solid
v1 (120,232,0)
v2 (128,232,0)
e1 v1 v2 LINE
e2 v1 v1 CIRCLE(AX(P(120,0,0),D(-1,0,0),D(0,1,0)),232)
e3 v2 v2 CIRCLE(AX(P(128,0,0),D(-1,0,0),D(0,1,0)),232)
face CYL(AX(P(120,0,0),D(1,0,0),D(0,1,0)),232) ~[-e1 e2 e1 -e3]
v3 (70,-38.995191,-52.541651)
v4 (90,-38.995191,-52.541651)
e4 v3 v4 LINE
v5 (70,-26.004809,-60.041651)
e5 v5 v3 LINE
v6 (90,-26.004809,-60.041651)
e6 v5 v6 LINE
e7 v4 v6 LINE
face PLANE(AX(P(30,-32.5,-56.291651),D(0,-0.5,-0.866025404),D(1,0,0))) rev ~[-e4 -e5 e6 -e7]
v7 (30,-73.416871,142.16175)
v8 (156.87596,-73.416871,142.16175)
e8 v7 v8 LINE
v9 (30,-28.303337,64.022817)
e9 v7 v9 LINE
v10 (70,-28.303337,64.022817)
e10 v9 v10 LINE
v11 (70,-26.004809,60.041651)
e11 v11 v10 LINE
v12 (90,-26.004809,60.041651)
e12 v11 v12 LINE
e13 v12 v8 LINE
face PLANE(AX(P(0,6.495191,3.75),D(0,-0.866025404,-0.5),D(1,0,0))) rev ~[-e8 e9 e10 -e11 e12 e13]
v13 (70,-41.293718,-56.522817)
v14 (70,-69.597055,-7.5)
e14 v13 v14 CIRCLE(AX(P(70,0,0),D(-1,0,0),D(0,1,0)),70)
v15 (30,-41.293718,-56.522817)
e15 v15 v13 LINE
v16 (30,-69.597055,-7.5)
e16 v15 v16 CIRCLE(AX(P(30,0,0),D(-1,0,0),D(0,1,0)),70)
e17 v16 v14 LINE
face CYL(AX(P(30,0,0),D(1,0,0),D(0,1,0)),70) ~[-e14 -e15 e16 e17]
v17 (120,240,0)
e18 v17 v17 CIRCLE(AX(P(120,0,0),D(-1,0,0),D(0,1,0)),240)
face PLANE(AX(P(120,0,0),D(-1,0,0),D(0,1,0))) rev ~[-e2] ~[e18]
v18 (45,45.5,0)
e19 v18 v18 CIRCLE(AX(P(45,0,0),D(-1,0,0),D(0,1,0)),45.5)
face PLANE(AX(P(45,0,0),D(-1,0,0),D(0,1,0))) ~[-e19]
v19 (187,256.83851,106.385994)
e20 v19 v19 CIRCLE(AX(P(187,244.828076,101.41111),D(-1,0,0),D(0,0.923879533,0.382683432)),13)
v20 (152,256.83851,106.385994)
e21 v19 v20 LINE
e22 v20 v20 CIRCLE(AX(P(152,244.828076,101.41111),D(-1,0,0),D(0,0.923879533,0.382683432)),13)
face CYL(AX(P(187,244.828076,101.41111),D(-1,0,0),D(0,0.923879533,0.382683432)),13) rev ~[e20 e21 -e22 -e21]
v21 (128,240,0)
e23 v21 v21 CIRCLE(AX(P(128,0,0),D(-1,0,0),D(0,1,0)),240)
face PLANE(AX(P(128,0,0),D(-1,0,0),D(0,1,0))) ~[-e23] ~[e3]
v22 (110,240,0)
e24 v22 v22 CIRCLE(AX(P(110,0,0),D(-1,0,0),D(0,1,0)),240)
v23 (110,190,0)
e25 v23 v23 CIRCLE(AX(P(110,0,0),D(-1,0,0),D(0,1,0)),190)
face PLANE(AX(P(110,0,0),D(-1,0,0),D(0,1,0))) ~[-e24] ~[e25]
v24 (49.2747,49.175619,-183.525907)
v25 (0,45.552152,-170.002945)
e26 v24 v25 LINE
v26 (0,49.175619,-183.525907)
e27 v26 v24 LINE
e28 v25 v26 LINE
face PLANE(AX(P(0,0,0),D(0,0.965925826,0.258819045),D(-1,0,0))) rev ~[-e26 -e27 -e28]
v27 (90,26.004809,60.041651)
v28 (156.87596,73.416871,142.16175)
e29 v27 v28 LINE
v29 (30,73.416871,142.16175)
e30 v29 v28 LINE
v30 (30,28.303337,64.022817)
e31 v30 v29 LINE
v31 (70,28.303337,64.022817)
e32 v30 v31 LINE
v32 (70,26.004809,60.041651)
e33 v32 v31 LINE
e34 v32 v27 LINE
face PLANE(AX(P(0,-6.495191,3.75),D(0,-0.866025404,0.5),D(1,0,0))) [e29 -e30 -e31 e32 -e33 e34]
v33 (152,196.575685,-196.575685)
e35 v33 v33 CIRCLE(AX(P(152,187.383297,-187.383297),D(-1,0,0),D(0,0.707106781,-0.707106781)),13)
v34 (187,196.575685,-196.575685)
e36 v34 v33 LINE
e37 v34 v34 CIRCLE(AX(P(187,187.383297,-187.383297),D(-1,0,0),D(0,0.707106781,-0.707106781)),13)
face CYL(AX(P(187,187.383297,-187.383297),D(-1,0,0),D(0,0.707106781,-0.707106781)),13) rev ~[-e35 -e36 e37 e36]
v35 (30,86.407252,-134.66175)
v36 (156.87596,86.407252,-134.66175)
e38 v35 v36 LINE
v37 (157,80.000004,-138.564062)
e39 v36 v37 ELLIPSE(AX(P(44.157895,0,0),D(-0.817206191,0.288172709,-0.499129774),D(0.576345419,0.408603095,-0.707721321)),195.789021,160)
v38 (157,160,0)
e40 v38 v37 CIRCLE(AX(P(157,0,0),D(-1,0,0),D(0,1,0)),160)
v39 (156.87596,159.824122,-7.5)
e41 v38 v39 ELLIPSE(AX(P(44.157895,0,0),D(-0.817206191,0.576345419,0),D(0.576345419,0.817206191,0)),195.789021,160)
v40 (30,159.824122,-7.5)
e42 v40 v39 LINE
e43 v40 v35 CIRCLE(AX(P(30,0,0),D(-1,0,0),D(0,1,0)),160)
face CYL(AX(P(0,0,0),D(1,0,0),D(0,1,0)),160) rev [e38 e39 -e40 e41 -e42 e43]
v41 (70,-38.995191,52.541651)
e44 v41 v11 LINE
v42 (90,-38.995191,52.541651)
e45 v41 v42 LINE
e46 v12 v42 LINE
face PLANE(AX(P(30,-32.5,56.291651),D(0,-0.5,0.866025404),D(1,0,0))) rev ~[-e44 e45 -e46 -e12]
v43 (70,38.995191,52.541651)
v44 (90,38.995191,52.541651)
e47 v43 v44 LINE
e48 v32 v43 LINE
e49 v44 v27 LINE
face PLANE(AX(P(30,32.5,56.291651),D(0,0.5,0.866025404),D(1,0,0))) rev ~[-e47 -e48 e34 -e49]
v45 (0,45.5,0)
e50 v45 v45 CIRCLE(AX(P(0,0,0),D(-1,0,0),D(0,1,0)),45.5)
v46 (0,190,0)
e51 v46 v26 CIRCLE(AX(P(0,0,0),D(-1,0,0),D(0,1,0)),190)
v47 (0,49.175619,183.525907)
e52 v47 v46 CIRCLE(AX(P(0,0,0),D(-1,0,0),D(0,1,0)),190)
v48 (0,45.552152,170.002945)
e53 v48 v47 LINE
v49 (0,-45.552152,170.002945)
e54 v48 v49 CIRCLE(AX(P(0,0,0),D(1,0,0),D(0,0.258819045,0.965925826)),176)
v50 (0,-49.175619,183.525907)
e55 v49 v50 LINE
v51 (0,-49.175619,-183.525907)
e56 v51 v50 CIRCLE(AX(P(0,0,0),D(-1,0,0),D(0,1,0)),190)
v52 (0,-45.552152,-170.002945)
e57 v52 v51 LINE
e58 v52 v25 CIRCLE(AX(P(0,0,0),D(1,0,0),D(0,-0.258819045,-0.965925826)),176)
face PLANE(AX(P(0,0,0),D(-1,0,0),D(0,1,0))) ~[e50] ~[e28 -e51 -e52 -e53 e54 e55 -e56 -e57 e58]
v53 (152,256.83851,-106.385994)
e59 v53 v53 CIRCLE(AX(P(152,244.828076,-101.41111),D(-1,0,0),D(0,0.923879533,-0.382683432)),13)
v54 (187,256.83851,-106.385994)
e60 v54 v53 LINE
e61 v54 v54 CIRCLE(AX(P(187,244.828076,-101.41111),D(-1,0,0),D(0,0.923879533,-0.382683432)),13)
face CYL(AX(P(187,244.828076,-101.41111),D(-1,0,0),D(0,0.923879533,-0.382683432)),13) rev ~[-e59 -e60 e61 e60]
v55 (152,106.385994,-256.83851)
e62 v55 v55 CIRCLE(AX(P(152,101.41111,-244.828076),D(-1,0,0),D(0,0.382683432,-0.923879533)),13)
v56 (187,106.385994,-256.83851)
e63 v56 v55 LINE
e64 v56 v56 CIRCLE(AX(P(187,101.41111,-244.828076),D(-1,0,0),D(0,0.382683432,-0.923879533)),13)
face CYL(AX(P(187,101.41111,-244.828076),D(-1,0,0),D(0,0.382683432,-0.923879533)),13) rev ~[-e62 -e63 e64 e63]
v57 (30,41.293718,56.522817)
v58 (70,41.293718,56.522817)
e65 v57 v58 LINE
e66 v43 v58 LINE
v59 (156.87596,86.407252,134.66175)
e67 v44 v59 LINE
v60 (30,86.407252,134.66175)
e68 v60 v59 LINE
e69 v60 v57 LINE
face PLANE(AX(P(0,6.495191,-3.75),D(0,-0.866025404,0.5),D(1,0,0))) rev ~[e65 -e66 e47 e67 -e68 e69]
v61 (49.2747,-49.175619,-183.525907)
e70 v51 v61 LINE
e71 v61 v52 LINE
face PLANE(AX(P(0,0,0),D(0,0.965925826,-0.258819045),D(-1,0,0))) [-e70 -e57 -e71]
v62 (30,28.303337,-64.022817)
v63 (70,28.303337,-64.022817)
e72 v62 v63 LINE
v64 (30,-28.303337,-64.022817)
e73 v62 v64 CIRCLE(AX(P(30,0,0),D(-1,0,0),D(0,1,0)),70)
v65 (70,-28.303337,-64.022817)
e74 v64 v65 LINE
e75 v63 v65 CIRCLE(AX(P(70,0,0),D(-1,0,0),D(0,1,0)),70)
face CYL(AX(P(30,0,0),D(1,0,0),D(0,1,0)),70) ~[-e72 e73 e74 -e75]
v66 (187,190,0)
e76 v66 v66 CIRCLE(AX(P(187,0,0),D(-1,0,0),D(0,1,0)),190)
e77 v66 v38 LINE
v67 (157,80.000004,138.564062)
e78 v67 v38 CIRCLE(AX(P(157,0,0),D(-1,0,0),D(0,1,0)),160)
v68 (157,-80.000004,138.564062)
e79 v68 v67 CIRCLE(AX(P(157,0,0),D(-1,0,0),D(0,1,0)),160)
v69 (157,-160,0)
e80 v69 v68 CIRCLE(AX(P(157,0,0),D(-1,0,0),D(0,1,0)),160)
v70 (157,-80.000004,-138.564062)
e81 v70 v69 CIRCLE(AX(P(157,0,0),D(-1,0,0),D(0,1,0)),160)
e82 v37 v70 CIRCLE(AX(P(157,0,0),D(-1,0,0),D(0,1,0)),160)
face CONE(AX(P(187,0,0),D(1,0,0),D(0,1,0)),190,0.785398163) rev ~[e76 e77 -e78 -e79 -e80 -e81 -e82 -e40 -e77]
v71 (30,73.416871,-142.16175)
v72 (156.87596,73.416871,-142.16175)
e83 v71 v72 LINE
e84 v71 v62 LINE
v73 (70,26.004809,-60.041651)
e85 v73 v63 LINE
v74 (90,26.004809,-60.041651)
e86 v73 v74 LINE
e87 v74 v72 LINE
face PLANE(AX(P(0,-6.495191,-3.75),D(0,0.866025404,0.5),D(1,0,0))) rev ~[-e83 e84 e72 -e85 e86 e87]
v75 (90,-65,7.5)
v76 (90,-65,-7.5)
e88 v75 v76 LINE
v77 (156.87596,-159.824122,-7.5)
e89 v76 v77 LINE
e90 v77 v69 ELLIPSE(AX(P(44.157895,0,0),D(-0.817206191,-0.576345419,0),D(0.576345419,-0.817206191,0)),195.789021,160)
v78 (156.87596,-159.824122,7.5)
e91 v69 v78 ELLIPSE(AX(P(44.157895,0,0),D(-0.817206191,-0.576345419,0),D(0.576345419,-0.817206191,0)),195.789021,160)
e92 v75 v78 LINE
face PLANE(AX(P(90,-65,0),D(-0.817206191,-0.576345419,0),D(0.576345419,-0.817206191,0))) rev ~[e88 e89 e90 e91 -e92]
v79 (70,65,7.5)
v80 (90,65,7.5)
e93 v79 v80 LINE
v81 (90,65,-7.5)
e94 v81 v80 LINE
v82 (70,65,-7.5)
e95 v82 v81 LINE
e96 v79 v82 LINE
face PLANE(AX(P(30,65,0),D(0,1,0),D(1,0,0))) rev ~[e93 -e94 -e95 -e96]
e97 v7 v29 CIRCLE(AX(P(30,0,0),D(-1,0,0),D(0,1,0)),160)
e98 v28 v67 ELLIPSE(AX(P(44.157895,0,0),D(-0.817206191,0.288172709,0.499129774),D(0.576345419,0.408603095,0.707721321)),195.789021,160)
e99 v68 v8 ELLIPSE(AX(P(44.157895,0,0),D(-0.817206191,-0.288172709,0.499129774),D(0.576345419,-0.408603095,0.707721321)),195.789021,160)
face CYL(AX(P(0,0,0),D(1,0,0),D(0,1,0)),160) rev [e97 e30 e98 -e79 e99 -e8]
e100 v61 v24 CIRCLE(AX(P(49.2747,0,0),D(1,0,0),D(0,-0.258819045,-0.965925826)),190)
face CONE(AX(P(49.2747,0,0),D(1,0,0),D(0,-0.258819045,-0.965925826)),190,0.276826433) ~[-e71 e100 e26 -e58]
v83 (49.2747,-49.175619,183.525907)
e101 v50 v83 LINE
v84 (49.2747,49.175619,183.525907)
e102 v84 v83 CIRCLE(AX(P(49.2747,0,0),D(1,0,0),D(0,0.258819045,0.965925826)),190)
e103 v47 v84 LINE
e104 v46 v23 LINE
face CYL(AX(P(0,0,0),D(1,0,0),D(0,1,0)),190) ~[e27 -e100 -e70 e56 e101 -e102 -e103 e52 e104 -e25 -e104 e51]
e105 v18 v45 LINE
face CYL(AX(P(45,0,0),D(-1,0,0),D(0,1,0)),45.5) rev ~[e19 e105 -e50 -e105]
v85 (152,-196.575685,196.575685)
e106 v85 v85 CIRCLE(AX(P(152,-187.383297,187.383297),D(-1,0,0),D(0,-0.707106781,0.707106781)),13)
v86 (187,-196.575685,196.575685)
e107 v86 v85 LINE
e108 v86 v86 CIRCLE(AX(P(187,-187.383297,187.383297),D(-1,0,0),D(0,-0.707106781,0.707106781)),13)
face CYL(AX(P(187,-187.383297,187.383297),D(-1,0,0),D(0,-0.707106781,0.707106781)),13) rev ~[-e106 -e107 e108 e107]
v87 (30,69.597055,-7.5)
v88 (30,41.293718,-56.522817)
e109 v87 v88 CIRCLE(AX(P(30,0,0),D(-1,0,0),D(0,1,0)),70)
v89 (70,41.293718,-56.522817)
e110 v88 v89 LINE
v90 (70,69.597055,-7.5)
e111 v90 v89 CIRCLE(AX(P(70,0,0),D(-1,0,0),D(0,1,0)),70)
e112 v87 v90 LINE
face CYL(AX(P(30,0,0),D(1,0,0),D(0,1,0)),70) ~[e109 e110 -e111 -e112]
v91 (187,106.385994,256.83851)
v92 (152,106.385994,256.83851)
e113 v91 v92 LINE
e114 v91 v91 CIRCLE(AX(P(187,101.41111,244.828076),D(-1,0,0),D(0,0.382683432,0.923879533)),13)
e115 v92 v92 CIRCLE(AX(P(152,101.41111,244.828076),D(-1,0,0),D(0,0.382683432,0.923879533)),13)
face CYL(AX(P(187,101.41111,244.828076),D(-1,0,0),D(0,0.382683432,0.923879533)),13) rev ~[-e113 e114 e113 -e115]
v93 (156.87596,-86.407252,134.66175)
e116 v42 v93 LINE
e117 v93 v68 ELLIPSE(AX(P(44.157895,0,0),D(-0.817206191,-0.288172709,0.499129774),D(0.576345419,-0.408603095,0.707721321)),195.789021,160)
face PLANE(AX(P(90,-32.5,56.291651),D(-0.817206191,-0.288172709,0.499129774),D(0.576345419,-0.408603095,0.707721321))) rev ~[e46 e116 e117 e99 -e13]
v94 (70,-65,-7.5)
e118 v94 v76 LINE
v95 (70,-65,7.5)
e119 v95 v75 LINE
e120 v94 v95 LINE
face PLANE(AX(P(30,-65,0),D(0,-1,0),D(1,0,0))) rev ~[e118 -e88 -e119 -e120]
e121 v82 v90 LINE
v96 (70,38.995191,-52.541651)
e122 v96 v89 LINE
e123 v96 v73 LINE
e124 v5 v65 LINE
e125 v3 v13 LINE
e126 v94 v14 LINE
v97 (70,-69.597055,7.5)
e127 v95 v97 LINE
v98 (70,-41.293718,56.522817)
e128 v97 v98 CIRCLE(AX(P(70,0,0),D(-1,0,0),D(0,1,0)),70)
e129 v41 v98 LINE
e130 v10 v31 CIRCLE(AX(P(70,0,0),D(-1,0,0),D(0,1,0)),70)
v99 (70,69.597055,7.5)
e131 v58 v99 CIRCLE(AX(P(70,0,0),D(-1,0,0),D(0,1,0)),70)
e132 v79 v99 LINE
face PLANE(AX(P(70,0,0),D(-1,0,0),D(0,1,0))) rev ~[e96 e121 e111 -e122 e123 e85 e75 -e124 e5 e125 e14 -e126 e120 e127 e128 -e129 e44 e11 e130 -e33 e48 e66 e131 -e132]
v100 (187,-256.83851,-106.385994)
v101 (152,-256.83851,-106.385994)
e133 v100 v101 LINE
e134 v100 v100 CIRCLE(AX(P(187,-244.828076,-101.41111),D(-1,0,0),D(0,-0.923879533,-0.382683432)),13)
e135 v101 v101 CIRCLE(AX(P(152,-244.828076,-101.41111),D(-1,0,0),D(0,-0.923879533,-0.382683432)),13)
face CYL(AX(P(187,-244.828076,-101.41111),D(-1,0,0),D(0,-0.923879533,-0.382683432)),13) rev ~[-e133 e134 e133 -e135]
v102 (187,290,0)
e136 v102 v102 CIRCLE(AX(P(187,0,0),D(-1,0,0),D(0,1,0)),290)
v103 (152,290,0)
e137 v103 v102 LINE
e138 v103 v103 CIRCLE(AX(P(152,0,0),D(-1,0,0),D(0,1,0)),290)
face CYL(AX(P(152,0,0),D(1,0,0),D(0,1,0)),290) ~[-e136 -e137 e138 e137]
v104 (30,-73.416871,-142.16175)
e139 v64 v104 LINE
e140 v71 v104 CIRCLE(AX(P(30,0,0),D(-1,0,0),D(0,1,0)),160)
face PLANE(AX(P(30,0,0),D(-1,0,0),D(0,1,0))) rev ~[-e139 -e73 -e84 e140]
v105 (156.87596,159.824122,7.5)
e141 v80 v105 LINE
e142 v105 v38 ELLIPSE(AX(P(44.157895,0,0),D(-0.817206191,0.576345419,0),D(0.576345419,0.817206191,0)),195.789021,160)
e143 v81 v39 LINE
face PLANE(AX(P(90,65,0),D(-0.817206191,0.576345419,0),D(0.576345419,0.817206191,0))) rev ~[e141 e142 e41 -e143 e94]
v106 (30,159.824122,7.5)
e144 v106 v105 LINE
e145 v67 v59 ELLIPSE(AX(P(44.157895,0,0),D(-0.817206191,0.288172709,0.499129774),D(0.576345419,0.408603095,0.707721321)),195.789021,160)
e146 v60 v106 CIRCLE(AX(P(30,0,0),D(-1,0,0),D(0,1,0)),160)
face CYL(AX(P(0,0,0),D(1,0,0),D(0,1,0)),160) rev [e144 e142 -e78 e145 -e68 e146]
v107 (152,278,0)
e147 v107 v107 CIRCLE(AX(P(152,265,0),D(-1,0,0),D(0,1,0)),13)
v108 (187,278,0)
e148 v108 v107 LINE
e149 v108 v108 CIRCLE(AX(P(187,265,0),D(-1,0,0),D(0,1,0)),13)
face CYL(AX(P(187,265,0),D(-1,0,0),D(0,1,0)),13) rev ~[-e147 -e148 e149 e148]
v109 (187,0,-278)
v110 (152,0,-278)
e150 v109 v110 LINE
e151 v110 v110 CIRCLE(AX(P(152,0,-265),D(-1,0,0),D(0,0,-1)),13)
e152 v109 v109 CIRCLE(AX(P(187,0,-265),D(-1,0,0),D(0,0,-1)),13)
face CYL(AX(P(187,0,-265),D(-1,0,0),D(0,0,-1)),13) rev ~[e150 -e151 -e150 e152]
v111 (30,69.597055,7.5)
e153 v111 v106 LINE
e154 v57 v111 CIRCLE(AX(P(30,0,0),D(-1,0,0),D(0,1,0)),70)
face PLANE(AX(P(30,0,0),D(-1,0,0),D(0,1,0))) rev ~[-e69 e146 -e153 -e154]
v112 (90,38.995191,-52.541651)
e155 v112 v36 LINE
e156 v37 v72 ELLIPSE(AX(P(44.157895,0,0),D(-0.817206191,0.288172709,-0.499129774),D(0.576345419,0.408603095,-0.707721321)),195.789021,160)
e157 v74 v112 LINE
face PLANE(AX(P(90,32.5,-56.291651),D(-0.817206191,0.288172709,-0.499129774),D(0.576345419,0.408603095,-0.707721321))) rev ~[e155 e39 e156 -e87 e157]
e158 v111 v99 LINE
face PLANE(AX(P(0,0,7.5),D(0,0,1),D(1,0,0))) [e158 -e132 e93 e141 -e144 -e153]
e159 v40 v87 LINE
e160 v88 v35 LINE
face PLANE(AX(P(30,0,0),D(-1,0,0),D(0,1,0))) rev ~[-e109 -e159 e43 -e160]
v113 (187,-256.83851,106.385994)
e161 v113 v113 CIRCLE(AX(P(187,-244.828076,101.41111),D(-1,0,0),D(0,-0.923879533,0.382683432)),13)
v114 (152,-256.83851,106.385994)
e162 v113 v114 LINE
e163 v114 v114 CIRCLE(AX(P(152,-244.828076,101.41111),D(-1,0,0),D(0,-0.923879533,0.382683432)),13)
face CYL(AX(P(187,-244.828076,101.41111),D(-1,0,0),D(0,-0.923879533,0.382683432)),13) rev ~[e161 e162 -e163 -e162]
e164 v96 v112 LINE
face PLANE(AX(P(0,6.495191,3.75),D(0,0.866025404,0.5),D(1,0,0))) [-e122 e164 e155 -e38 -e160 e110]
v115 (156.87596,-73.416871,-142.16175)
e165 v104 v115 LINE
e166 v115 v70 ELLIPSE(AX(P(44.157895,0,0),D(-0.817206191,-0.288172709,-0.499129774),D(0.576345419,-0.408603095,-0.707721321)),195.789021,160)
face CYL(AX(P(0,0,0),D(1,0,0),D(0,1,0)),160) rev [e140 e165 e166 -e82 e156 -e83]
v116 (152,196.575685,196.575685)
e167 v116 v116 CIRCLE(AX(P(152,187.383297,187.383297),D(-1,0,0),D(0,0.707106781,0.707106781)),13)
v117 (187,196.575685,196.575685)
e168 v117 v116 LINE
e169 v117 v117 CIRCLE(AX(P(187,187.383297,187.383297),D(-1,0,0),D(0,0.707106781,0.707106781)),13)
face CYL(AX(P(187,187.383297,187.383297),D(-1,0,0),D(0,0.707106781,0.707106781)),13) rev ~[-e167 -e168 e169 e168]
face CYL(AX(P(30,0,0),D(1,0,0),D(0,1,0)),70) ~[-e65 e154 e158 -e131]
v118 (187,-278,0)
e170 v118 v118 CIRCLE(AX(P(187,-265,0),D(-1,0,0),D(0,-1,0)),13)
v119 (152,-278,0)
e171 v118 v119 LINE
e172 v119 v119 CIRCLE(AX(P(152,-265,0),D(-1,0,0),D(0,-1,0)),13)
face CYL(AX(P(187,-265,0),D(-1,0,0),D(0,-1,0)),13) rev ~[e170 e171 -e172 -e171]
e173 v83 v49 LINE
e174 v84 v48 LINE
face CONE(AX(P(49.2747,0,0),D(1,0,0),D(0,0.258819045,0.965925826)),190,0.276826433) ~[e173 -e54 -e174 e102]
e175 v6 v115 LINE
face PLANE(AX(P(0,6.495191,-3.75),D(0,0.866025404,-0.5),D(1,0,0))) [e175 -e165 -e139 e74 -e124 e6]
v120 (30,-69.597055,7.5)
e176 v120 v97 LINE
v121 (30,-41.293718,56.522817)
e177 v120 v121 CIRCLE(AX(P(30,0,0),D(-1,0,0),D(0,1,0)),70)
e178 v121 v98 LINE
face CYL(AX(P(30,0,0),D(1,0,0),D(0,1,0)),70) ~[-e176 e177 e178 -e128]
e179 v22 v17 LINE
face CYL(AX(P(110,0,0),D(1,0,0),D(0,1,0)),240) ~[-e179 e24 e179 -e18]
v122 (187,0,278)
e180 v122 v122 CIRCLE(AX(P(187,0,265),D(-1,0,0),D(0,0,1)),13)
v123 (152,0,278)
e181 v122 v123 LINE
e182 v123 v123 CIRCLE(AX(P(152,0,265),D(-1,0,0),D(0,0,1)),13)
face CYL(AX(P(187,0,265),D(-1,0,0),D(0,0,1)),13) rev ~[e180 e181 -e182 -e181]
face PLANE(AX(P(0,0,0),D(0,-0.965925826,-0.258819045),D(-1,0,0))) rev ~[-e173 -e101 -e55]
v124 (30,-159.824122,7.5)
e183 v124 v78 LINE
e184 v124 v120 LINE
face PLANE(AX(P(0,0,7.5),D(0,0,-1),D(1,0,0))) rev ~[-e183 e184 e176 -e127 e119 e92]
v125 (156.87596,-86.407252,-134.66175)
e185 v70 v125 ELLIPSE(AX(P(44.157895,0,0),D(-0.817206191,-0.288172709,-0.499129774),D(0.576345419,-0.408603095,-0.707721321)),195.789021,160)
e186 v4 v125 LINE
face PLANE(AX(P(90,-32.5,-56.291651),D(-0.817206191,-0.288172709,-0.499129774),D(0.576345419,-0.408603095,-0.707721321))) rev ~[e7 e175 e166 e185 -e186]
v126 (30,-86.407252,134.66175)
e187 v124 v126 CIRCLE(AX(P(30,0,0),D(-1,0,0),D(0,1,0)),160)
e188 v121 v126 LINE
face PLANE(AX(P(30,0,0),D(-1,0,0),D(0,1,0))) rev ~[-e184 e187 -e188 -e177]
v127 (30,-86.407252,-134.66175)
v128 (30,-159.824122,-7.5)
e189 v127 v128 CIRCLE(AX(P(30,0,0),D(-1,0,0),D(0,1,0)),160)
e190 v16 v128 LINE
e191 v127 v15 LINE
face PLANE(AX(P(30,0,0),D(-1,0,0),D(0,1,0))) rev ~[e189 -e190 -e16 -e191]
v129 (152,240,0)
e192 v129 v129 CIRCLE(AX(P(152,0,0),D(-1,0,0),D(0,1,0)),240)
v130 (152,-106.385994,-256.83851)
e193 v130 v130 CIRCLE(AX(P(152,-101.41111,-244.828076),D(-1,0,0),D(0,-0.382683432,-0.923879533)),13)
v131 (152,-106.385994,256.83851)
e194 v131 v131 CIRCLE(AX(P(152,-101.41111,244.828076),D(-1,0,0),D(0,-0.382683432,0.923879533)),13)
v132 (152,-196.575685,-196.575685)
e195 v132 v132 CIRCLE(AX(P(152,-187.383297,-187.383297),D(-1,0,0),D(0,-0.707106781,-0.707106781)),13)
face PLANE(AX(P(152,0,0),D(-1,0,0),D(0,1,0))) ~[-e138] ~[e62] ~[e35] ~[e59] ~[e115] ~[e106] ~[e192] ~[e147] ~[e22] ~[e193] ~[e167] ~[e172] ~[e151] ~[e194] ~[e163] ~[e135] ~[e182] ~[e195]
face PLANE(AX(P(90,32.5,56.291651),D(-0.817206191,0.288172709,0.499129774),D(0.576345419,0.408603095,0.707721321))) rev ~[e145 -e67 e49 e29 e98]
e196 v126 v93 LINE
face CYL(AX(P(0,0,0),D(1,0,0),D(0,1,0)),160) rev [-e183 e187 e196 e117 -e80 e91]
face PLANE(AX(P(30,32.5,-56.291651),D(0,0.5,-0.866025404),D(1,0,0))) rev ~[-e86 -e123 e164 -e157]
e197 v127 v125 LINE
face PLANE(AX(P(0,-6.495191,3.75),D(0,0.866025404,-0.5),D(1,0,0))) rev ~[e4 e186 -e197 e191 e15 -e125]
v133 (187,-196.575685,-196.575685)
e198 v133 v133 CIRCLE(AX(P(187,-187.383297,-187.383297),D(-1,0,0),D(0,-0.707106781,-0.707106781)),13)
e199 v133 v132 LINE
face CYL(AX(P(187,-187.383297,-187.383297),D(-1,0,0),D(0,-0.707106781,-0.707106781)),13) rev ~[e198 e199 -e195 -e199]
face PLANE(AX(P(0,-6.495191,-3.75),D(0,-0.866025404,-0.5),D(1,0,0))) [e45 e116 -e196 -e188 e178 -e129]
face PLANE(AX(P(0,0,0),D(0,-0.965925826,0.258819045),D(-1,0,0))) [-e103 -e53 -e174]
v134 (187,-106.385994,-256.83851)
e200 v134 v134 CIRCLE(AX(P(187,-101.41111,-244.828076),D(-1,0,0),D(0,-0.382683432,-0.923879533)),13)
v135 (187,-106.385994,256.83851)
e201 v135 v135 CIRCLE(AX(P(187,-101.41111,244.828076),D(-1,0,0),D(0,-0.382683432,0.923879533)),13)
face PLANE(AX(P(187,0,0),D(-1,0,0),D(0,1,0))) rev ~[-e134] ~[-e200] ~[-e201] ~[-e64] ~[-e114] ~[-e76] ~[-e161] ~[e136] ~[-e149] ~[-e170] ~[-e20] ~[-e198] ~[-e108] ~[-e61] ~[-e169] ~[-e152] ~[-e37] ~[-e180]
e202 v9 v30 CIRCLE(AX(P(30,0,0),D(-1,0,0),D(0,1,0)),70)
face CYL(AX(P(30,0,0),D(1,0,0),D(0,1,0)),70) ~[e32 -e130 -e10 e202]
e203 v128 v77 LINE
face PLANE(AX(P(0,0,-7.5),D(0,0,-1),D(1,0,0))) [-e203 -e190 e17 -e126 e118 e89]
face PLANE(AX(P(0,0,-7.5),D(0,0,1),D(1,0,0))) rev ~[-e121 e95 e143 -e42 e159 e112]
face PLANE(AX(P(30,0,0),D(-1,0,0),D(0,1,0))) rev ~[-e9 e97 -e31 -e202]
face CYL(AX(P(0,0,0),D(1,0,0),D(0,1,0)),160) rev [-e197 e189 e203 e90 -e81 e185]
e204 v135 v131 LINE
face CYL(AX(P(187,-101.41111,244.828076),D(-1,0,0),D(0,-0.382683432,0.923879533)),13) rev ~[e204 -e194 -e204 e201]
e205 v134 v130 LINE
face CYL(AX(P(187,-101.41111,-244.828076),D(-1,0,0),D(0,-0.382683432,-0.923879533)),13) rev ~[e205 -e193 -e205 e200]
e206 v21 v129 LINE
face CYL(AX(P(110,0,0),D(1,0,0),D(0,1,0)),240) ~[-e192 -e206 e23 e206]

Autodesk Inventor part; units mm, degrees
ref_plane "YZ Plane" through (0, 0, 0) normal (1, 0, 0) x (0, 1, 0)
ref_plane "XZ Plane" through (0, 0, 0) normal (0, 1, 0) x (-1, 0, 0)
ref_plane "XY Plane" through (0, 0, 0) normal (0, 0, 1) x (1, 0, 0)
sketch "Эскиз1" plane through (0, 0, 0) normal (0, 0, 1) x (1, 0, 0)
  line L0 (0, 0) -> (0, 190)
  line L1 (0, 190) -> (110, 190)
  line L2 (110, 190) -> (110, 240)
  line L3 (110, 240) -> (152, 240)
  line L4 (152, 240) -> (152, 290)
  line L5 (152, 290) -> (187, 290)
  line L6 (187, 290) -> (187, 190)
  line L7 (0, 190) -> (0, 160)
  line L8 (0, 160) -> (268.4083, 160)
  line L9 (187, 190) -> (218.141, 190) construction
  line L10 (187, 190) -> (157, 160)
  line L11 (0, 160) -> (30, 160)
  line L12 (30, 160) -> (30, 70)
  line L13 (30, 70) -> (70, 70)
  line L14 (70, 70) -> (70, 0)
  line L15 (70, 0) -> (45, 0)
  line L16 (45, 0) -> (45, 45.5)
  line L17 (45, 45.5) -> (0, 45.5)
  line L18 (120, 240) -> (120, 232)
  line L19 (120, 232) -> (128, 232)
  line L20 (128, 232) -> (128, 240)
  dimension "d0" = 190
  dimension "d1" = 110
  dimension "d2" = 50
  dimension "d3" = 42
  dimension "d4" = 50
  dimension "d5" = 35
  dimension "d6" = 100
  dimension "d9" = 30
  dimension "d12" = 45
  dimension "d13" = 30
  dimension "d14" = 90
  dimension "d15" = 40
  dimension "d16" = 25
  dimension "d17" = 45.5
  dimension "d35" = 8
  dimension "d36" = 8
  dimension "d54" = 10
revolve "Вращение1" add sketch "Эскиз1" angle 360 about axis through (70, 0, 0) along (-1, 0, 0) contours L0 L8 L12 L13 L14 L15 L16 L17 | L0 L1 L2 L3 L18 L19 L20 L4 L5 L6 L10 L8
sketch "Эскиз2" plane through (0, 0, 0) normal (0, 0, 1) x (1, 0, 0)
  line L0 (30, -160) -> (30, 160) projected
  line L1 (30, 70) -> (70, 70) projected
  line L2 (157, 160) -> (30, 160) projected
  line L3 (30, -70) -> (30, 70) projected
  line L4 (30, 70) -> (30, 65)
  line L5 (30, 65) -> (90, 65)
  line L6 (90, 65) -> (157, 160)
  point P0 (0, 0)
  dimension "d25" = 5
  dimension "d26" = 60
extrude "Выдавливание1" add sketch "Эскиз2" along normal mid plane 15
pattern_circular "Круговой массив1" count 6 over 360 about axis through (169.5, 0, 0) along (1, 0, 0) of "Выдавливание1"
sketch "Эскиз6" plane through (0, 0, 0) normal (0, 1, 0) x (-1, 0, 0)
  line L0 (0, -190) -> (-110, -190) projected
  line L1 (0, 190) -> (0, -190) projected
  line L2 (37.4, 0) -> (-224.4, 0) projected
  line L3 (0, -190) -> (-110, -190) projected
  line L4 (-49.2747, -190) -> (0, -176)
  point P0 (0, 0)
revolve "Вращение2" cut sketch "Эскиз6" angle 30 mid plane about axis through (169.5, 0, 0) along (1, 0, 0)
pattern_circular "Круговой массив2" count 2 over 360 about axis through (169.5, 0, 0) along (1, 0, 0) of "Вращение2"
sketch "Эскиз7" plane through (187, 0, 0) normal (1, 0, 0) x (0, 0, -1)
  circle A0 centre (0, 0) radius 290 projected
  line L0 (290, 0) -> (265, 0)
  dimension "d43" = 25
hole "Отверстие1" at (187, 0, -265) direction (-1, 0, 0) diameter 26 end through all
pattern_circular "Круговой массив3" count 16 over 360 about axis through (-10, 0, 0) along (1, 0, 0) of "Отверстие1"
properties part number "Крышка цилиндра 1" material "Чугун, серый"
